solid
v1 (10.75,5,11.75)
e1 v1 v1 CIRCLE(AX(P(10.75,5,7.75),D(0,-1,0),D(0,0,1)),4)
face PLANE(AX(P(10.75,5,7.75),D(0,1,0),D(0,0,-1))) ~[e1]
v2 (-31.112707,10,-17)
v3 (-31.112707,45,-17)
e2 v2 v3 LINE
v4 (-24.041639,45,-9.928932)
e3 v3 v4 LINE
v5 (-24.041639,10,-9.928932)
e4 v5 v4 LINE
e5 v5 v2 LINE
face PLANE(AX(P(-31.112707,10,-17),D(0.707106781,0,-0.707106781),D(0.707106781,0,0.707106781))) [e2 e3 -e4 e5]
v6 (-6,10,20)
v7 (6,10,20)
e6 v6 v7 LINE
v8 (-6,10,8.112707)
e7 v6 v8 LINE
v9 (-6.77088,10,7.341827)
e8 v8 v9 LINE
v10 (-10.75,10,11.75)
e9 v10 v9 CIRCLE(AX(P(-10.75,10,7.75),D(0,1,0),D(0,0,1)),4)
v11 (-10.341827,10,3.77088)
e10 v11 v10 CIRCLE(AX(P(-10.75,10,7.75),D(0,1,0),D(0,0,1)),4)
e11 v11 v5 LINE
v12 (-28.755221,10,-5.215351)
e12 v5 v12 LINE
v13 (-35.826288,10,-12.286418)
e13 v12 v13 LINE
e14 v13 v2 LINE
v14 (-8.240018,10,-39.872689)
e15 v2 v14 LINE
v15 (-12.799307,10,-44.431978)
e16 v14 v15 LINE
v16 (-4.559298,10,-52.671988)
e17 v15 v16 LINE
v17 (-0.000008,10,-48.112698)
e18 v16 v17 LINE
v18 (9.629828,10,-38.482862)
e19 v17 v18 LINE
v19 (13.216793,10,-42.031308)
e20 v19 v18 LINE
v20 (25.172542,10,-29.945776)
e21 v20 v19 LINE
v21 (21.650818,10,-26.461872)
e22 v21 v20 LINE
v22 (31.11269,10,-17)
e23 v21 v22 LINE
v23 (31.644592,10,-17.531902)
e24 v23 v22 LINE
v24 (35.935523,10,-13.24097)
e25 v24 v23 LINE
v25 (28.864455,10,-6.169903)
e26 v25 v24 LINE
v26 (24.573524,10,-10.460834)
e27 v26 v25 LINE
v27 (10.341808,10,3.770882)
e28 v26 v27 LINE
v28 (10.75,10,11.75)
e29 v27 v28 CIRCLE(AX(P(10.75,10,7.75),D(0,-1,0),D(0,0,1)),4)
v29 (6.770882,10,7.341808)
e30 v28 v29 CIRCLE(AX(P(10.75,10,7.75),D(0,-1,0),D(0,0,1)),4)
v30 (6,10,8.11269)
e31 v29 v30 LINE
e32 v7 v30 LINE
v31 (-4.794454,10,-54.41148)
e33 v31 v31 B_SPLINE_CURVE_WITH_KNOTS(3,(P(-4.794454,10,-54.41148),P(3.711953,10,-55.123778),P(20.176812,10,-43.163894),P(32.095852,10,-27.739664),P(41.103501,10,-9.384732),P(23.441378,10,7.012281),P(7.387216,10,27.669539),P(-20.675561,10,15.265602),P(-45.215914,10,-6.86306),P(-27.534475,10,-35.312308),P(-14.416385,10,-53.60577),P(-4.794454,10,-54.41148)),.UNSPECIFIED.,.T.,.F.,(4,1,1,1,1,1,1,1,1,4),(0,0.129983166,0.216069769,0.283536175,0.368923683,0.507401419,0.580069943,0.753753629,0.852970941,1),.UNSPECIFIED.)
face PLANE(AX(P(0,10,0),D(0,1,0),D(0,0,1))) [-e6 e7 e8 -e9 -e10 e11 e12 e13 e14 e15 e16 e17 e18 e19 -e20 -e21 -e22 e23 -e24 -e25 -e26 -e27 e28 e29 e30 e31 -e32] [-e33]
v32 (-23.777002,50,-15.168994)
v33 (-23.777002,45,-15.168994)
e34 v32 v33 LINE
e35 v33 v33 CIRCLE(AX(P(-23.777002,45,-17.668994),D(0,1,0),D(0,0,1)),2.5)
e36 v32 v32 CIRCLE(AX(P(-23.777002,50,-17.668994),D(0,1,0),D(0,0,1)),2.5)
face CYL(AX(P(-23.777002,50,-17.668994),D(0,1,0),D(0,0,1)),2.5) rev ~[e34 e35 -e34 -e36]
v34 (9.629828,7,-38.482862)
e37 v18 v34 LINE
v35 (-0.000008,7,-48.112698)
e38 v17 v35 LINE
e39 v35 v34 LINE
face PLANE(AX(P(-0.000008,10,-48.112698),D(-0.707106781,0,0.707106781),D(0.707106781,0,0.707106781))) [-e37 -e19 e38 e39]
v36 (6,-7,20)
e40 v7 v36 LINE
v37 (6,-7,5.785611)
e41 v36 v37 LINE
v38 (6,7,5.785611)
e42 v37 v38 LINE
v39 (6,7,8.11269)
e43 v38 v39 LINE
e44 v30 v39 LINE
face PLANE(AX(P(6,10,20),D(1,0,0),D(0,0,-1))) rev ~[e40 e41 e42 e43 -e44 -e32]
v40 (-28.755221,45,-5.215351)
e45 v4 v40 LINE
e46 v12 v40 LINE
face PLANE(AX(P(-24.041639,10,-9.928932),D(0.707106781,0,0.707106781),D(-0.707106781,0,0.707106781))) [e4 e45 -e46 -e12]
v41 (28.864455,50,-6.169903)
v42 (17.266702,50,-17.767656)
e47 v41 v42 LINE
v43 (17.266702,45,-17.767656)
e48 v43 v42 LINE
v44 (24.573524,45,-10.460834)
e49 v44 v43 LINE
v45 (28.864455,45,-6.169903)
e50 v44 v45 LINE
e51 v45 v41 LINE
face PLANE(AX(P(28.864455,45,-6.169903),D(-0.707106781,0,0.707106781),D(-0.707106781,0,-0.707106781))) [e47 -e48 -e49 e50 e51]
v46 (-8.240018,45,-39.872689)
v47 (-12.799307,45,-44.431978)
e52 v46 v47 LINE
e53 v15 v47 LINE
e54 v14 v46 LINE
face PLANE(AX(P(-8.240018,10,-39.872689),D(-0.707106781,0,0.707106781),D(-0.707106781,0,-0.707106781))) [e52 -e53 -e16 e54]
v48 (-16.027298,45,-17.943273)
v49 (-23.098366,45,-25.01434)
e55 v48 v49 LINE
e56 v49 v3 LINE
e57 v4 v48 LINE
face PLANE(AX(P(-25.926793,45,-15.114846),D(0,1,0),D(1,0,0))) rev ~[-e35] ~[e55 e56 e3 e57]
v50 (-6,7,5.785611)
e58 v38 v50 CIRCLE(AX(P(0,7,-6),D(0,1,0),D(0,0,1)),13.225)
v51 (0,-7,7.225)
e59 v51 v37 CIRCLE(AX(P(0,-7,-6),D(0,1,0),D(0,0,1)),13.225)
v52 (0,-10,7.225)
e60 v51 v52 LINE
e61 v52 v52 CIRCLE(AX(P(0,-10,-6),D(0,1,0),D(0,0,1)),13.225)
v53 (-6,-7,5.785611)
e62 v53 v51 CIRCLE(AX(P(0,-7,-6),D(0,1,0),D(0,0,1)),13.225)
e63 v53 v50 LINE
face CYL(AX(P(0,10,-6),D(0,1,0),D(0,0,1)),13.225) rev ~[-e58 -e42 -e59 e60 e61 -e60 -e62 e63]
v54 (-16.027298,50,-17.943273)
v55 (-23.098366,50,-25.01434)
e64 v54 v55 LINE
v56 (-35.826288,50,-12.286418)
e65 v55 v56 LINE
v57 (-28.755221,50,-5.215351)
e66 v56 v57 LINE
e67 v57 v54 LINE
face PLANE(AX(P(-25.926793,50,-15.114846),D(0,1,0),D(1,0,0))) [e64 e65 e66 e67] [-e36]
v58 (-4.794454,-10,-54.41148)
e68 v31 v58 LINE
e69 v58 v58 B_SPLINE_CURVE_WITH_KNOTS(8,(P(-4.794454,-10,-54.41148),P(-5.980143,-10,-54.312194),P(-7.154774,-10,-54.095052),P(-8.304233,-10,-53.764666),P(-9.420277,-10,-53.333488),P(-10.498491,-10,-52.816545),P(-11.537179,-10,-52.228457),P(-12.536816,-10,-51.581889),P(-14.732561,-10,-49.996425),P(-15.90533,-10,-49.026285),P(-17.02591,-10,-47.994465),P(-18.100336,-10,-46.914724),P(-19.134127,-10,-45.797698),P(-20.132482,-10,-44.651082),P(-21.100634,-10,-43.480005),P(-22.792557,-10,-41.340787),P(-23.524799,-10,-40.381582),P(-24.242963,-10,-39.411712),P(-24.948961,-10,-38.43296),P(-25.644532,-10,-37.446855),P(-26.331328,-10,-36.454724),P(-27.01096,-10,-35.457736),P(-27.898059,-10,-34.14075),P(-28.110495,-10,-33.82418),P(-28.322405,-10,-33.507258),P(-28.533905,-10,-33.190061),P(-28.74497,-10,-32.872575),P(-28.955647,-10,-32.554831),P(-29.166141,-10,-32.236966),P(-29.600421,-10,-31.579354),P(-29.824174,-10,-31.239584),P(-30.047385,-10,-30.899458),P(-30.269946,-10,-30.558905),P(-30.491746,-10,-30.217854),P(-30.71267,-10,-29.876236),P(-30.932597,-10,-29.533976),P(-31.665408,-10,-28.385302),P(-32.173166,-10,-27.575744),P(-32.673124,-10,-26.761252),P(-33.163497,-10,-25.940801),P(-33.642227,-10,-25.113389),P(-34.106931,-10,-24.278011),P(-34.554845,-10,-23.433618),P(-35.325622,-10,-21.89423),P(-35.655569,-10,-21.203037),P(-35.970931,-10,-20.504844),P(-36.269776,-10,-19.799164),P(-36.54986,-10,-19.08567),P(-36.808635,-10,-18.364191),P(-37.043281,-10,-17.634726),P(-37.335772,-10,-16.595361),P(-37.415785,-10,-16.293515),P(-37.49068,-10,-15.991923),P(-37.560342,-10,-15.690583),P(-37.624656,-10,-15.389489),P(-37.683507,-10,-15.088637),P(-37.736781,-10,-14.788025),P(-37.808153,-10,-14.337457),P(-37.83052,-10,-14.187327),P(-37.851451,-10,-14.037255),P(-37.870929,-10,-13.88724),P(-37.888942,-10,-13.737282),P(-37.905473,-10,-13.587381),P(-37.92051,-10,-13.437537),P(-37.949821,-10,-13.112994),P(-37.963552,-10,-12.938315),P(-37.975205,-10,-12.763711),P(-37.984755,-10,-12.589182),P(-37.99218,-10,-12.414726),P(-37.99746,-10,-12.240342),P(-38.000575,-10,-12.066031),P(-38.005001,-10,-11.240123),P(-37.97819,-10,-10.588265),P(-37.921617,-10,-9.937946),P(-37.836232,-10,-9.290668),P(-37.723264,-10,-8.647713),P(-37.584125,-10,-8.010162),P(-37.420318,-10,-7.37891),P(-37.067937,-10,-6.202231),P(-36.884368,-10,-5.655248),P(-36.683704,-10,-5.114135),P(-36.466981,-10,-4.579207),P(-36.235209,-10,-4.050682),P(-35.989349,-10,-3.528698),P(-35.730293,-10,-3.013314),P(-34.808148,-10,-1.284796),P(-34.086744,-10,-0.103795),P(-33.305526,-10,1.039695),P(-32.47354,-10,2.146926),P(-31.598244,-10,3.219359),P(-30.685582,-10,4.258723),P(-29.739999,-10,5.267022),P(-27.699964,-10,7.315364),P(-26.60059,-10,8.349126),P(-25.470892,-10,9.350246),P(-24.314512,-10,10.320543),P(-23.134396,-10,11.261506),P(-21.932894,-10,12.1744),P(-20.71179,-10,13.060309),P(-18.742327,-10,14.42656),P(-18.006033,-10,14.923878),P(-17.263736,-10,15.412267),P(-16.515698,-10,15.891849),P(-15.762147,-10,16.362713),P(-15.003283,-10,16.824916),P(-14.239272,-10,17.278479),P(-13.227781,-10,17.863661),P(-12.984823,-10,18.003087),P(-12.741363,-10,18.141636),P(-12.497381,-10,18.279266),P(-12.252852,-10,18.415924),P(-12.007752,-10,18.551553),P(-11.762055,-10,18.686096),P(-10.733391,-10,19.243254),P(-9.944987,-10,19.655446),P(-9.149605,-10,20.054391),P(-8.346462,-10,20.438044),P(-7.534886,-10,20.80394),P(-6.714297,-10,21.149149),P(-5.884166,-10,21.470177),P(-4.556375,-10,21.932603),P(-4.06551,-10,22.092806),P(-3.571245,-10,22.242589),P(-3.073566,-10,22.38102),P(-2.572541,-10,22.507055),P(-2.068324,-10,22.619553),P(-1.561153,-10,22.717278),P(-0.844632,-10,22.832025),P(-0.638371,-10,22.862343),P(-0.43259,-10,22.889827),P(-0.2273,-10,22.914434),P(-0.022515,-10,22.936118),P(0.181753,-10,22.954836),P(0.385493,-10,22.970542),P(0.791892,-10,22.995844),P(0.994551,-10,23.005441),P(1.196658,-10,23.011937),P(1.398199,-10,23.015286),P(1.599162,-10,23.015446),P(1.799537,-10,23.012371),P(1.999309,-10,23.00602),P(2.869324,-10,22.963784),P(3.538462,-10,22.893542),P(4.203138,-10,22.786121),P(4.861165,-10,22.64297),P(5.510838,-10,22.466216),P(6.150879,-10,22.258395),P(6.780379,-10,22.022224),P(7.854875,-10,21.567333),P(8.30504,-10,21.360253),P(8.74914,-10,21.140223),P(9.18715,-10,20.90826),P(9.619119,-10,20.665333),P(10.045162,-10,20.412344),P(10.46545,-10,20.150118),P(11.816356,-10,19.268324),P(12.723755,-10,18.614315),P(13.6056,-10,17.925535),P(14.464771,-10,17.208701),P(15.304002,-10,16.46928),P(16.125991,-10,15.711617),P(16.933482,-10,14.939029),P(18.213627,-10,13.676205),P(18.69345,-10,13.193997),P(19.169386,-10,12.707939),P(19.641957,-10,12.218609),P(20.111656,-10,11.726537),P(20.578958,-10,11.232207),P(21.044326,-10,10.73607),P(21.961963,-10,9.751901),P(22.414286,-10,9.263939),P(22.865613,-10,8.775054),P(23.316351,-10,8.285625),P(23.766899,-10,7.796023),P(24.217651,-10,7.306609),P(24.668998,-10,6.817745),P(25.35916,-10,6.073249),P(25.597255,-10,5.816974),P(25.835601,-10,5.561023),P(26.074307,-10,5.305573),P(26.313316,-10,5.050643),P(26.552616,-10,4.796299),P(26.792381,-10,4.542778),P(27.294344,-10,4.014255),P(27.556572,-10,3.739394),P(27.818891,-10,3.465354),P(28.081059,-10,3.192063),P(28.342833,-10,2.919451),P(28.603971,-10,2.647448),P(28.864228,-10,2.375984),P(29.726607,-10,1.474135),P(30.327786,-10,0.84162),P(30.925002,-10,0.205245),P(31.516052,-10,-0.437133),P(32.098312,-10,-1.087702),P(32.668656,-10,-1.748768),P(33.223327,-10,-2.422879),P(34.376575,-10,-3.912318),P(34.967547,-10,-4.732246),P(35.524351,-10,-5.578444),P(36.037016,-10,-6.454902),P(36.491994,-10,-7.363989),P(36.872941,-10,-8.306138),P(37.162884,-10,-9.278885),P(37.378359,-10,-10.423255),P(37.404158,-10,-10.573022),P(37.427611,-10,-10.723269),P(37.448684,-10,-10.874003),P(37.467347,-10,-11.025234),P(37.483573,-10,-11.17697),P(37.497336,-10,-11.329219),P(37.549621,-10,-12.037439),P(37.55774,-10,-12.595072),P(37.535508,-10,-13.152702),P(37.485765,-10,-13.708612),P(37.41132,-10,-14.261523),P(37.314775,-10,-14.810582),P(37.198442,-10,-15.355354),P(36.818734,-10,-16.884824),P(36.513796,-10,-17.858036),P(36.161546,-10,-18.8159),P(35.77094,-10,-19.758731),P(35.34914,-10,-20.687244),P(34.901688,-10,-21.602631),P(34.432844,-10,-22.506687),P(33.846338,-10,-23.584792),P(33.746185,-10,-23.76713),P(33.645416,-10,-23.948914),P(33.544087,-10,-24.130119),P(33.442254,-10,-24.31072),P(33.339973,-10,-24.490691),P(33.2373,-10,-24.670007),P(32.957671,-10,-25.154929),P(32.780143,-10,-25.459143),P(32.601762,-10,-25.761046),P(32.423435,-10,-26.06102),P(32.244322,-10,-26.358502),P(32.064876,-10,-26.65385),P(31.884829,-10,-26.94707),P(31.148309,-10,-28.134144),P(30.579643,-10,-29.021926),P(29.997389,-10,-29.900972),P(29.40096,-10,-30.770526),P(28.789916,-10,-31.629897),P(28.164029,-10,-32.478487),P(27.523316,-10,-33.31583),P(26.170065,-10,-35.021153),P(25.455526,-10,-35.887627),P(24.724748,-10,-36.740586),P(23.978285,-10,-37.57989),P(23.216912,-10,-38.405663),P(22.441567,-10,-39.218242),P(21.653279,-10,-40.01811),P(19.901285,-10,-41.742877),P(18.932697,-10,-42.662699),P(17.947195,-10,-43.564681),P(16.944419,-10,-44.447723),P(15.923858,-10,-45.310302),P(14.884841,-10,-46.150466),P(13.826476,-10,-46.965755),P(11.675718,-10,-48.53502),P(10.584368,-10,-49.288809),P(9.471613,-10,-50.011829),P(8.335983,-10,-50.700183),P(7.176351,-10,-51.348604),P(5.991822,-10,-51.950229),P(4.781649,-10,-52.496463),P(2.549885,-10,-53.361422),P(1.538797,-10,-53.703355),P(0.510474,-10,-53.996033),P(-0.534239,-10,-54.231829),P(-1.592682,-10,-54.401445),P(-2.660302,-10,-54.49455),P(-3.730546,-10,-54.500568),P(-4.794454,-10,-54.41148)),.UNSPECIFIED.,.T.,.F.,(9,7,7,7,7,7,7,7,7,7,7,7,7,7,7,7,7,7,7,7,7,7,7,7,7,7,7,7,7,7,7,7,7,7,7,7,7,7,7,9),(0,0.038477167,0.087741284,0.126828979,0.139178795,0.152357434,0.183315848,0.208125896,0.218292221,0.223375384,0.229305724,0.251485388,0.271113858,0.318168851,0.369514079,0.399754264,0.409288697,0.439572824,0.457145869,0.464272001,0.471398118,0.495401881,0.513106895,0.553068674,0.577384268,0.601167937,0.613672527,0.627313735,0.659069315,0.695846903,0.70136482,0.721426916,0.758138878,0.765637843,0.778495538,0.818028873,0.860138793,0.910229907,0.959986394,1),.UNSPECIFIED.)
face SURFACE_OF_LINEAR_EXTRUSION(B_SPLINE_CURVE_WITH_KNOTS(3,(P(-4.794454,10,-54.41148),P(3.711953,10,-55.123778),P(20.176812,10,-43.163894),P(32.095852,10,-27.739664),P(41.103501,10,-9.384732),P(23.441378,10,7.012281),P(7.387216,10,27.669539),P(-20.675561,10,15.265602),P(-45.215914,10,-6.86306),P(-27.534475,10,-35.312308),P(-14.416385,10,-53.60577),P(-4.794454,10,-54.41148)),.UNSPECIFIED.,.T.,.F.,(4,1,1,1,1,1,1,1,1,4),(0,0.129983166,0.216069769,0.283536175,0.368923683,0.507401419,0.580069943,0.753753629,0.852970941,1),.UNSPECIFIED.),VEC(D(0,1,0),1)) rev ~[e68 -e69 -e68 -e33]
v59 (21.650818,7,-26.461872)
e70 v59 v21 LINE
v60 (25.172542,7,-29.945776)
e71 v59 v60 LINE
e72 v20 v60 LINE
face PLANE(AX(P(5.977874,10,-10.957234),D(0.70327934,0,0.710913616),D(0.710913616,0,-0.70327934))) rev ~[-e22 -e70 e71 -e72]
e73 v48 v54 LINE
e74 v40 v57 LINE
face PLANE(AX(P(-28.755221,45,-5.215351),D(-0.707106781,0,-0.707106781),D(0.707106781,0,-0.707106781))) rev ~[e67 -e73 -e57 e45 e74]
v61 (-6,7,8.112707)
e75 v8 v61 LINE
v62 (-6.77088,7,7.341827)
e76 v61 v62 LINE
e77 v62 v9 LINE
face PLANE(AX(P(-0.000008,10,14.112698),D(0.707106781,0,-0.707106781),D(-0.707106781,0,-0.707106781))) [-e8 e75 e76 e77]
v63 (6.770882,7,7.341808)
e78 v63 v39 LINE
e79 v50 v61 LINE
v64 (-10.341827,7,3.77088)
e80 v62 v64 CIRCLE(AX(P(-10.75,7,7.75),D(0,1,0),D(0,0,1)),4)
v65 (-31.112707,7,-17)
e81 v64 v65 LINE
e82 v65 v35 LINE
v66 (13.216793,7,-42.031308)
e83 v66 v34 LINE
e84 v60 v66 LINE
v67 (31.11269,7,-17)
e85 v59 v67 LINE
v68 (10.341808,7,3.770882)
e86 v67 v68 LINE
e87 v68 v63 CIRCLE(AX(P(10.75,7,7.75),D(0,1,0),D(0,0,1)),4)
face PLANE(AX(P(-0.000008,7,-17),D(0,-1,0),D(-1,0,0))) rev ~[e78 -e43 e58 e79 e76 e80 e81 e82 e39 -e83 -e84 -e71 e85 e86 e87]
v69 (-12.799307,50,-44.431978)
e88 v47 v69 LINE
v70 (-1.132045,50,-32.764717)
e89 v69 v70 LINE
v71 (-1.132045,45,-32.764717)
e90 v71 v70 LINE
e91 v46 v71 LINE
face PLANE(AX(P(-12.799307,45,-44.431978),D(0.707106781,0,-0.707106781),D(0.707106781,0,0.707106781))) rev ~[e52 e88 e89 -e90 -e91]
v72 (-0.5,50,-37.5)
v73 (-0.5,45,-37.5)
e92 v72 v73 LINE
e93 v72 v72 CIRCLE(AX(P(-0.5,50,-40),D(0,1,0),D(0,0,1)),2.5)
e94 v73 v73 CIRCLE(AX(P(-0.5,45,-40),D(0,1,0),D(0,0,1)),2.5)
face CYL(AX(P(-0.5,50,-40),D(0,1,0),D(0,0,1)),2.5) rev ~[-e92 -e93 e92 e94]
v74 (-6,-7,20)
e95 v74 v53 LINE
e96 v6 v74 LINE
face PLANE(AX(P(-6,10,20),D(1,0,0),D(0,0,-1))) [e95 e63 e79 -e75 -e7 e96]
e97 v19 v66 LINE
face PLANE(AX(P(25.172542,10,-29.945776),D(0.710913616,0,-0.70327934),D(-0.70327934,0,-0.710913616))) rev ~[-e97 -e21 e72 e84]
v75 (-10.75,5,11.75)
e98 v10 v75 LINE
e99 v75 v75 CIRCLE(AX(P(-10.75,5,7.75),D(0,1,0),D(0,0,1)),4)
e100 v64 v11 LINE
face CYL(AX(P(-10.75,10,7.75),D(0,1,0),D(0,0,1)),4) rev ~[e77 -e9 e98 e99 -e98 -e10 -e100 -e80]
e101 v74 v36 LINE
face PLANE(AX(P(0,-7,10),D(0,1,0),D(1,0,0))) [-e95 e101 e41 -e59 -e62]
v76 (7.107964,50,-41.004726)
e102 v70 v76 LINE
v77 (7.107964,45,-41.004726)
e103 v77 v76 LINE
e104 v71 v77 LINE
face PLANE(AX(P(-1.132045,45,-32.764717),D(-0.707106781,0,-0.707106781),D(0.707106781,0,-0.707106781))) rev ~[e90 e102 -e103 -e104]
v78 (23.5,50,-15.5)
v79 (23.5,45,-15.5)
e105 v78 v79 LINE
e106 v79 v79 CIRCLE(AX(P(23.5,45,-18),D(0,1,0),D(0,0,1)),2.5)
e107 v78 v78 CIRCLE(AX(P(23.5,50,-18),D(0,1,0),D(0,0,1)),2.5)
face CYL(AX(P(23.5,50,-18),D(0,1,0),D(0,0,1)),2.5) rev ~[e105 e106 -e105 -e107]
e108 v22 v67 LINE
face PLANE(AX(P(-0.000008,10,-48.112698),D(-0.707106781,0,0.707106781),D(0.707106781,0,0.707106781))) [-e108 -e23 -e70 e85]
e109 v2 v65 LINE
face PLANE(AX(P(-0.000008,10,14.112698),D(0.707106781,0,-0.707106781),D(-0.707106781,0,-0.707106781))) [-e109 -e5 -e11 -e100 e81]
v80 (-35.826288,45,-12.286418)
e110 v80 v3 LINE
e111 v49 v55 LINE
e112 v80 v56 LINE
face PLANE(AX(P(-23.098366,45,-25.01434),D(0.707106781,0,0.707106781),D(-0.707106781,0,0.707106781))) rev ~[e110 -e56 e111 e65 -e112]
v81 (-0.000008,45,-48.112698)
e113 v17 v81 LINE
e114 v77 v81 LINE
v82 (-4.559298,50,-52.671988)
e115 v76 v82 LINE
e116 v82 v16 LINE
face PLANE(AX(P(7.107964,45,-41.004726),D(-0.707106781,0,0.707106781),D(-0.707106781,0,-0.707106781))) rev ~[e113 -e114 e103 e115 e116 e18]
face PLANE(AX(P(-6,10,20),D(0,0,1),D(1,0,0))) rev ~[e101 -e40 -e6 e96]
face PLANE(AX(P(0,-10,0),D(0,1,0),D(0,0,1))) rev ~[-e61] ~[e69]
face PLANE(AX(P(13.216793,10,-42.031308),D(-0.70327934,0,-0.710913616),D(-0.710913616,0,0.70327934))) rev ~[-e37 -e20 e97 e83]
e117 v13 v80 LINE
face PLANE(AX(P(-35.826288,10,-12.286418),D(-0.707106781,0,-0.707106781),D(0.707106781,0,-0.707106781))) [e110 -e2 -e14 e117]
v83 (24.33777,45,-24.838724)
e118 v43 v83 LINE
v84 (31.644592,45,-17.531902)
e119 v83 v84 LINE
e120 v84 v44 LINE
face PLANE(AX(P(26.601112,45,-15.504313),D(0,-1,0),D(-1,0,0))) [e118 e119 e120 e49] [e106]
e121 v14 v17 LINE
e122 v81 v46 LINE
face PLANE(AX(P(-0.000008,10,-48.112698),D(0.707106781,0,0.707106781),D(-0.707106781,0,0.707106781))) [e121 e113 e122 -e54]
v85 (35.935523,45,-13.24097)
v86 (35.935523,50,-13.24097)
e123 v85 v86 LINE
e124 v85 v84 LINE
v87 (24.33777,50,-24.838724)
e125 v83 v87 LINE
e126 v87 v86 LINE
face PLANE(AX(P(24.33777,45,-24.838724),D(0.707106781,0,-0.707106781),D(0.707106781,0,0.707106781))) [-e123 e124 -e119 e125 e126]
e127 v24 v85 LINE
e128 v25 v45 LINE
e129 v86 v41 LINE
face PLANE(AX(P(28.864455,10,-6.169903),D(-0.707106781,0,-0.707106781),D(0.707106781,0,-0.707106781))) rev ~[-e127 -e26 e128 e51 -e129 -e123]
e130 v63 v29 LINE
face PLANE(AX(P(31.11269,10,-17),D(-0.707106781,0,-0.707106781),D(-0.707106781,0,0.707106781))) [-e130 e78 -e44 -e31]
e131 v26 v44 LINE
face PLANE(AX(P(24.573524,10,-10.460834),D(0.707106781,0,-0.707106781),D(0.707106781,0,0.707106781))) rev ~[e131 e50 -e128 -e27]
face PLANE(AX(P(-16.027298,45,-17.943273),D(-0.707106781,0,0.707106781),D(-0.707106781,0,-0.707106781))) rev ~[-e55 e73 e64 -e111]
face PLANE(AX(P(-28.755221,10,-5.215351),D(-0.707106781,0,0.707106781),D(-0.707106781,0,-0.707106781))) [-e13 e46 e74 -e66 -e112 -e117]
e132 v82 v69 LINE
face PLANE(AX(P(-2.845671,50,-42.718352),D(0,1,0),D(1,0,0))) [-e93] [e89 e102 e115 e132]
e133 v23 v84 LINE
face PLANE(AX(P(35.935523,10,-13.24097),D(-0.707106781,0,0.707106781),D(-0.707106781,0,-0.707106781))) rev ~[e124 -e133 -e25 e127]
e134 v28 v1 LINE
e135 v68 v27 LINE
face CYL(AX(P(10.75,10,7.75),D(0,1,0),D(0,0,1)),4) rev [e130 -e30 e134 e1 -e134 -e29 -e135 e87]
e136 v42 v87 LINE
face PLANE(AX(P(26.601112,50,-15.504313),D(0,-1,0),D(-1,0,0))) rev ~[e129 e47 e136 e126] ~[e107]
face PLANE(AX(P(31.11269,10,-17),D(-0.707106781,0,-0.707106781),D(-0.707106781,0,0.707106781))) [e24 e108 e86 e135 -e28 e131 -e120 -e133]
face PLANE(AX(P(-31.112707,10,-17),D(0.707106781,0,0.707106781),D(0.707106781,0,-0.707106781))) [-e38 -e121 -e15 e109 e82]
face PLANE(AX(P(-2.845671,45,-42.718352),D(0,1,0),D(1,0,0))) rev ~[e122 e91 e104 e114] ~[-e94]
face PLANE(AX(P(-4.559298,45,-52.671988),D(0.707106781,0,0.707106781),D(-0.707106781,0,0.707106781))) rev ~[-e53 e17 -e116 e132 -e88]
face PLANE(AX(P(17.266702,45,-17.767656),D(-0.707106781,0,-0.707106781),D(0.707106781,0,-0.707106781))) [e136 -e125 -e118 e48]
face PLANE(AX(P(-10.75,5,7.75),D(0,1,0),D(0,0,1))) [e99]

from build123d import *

# Parameters (mm, degrees)
BOSS_EXTRUDE1_DEPTH      = 10
BOSS_EXTRUDE1_DEPTH_BACK = 10
SKETCH2_R                = 60
SKETCH7_R                = 4
CUT_EXTRUDE2_DEPTH       = 5
CUT_EXTRUDE4_DEPTH       = 3
CUT_EXTRUDE5_DEPTH       = 3
BOSS_EXTRUDE2_DEPTH      = 35
BOSS_EXTRUDE3_DEPTH      = 5
SKETCH13_R               = 2.5
CUT_EXTRUDE7_DEPTH       = 5
SKETCH15_R               = 2.5
CUT_EXTRUDE8_DEPTH       = 5
SKETCH14_R               = 2.5
CUT_EXTRUDE9_DEPTH       = 5
SKETCH16_R               = 60
CUT_EXTRUDE10_DEPTH      = 38
SKETCH4_R                = 13.225
CUT_EXTRUDE12_DEPTH      = 42
SKETCH19_W               = 12
SKETCH19_H               = 20
CUT_EXTRUDE13_DEPTH      = 17


with BuildPart() as part:
    # Sketch2 → Boss-Extrude1 (new, two sides: drawn at the far end of the back side and taken through both)
    with BuildSketch(Plane(origin=(0, 0, 0), x_dir=(1, 0, 0), z_dir=(0, 1, 0)).offset(-BOSS_EXTRUDE1_DEPTH_BACK)):
        with Locations(Location((0, 0, 0), (0, 0, 270))):
            Circle(SKETCH2_R)
    extrude(amount=BOSS_EXTRUDE1_DEPTH + BOSS_EXTRUDE1_DEPTH_BACK)

    # Sketch7 → Cut-Extrude2 (cut)
    with BuildSketch(Plane(origin=(0, 10, 0), x_dir=(1, 0, 0), z_dir=(0, 1, 0))):
        with Locations(Location((-10.75, -7.75, 0), (0, 0, 270))):
            Circle(SKETCH7_R)
    cut_extrude2 = extrude(amount=-CUT_EXTRUDE2_DEPTH, mode=Mode.SUBTRACT)

    # Mirror1: Cut-Extrude2 across plane
    add(cut_extrude2.mirror(Plane(origin=(0, 0, 0), x_dir=(0, 0, 1), z_dir=(1, 0, 0))), mode=Mode.SUBTRACT)

    # Sketch9 → Cut-Extrude4 (cut)
    with BuildSketch(Plane(origin=(0, 10, 0), x_dir=(1, 0, 0), z_dir=(0, 1, 0))):
        Polygon((-31.112706744, 17), (-8.372e-06, 48.112698372), (31.11269, 17), (-8.372e-06, -14.112698372), align=None)
    extrude(amount=-CUT_EXTRUDE4_DEPTH, mode=Mode.SUBTRACT)

    # Sketch6 → Cut-Extrude5 (cut)
    with BuildSketch(Plane(origin=(0, 10, 0), x_dir=(1, 0, 0), z_dir=(0, 1, 0))):
        Polygon((-5.977874391, 23.042765738), (5.977874391, 10.957234262), (25.17254203, 29.945776443), (13.216793249, 42.03130792), align=None)
    extrude(amount=-CUT_EXTRUDE5_DEPTH, mode=Mode.SUBTRACT)

    # Sketch11 → Boss-Extrude2 (add)
    with BuildSketch(Plane(origin=(0, 10, 0), x_dir=(1, 0, 0), z_dir=(0, 1, 0))):
        Polygon((-8.372e-06, 48.112698372), (-8.240017503, 39.872689242), (-12.799306685, 44.431978425), (-4.559297555, 52.671987555), align=None)
        Polygon((-31.112706744, 17), (-24.041638933, 9.928932188), (-28.755220541, 5.21535058), (-35.826288353, 12.286418392), align=None)
        Polygon((31.644591703, 17.531901703), (24.573523891, 10.460833891), (28.864455193, 6.169902588), (35.935523005, 13.2409704), align=None)
    extrude(amount=BOSS_EXTRUDE2_DEPTH)

    # Sketch12 → Boss-Extrude3 (add)
    with BuildSketch(Plane(origin=(0, 45, 0), x_dir=(1, 0, 0), z_dir=(0, 1, 0))):
        Polygon((-4.559297555, 52.671987555), (-12.799306685, 44.431978425), (-1.132044796, 32.764716535), (7.107964335, 41.004725665), align=None)
        Polygon((-35.826288353, 12.286418392), (-28.755220541, 5.21535058), (-16.027298479, 17.943272641), (-23.098366291, 25.014340453), align=None)
        Polygon((35.935523005, 13.2409704), (28.864455193, 6.169902588), (17.266701717, 17.767656064), (24.337769529, 24.838723876), align=None)
    extrude(amount=BOSS_EXTRUDE3_DEPTH)

    # Sketch13 → Cut-Extrude7 (cut)
    with BuildSketch(Plane(origin=(0, 50, 0), x_dir=(1, 0, 0), z_dir=(0, 1, 0))):
        with Locations(Location((-0.5, 40, 0), (0, 0, 270))):
            Circle(SKETCH13_R)
    extrude(amount=-CUT_EXTRUDE7_DEPTH, mode=Mode.SUBTRACT)

    # Sketch15 → Cut-Extrude8 (cut)
    with BuildSketch(Plane(origin=(0, 50, 0), x_dir=(1, 0, 0), z_dir=(0, 1, 0))):
        with Locations(Location((-23.777002133, 17.668993601, 0), (0, 0, 270))):
            Circle(SKETCH15_R)
    extrude(amount=-CUT_EXTRUDE8_DEPTH, mode=Mode.SUBTRACT)

    # Sketch14 → Cut-Extrude9 (cut)
    with BuildSketch(Plane(origin=(0, 50, 0), x_dir=(1, 0, 0), z_dir=(0, 1, 0))):
        with Locations(Location((23.5, 18, 0), (0, 0, 270))):
            Circle(SKETCH14_R)
    extrude(amount=-CUT_EXTRUDE9_DEPTH, mode=Mode.SUBTRACT)

    # Sketch16 → Cut-Extrude10 (cut)
    with BuildSketch(Plane(origin=(0, 10, 0), x_dir=(1, 0, 0), z_dir=(0, 1, 0))):
        Circle(SKETCH16_R)
        with BuildLine():
            add(Edge.make_bspline(
                [(-4.79445414, 54.411479542), (3.711953261, 55.123778385), (20.176812176, 43.163893552), (32.095851639, 27.739664068), (41.103501035, 9.384731909), (23.441378071, -7.012281145), (7.387216057, -27.669539214), (-20.675561177, -15.265601832), (-45.215914175, 6.863059518), (-27.534475147, 35.312307502), (-14.416385352, 53.60577037), (-4.79445414, 54.411479542)],
                knots=[0, 0, 0, 0, 0.129983166, 0.216069769, 0.283536175, 0.368923683, 0.507401419, 0.580069943, 0.753753629, 0.852970941, 1, 1, 1, 1], degree=3))
        make_face(mode=Mode.SUBTRACT)
    extrude(amount=-CUT_EXTRUDE10_DEPTH, mode=Mode.SUBTRACT)

    # Sketch4 → Cut-Extrude12 (cut)
    with BuildSketch(Plane(origin=(0, 10, 0), x_dir=(1, 0, 0), z_dir=(0, 1, 0))):
        with Locations(Location((0, 6, 0), (0, 0, 270))):
            Circle(SKETCH4_R)
    extrude(amount=-CUT_EXTRUDE12_DEPTH, mode=Mode.SUBTRACT)

    # Sketch19 → Cut-Extrude13 (cut)
    with BuildSketch(Plane(origin=(0, 10, 0), x_dir=(1, 0, 0), z_dir=(0, 1, 0))):
        with Locations((0, -10)):
            Rectangle(SKETCH19_W, SKETCH19_H)
    extrude(amount=-CUT_EXTRUDE13_DEPTH, mode=Mode.SUBTRACT)


solid = part.part
